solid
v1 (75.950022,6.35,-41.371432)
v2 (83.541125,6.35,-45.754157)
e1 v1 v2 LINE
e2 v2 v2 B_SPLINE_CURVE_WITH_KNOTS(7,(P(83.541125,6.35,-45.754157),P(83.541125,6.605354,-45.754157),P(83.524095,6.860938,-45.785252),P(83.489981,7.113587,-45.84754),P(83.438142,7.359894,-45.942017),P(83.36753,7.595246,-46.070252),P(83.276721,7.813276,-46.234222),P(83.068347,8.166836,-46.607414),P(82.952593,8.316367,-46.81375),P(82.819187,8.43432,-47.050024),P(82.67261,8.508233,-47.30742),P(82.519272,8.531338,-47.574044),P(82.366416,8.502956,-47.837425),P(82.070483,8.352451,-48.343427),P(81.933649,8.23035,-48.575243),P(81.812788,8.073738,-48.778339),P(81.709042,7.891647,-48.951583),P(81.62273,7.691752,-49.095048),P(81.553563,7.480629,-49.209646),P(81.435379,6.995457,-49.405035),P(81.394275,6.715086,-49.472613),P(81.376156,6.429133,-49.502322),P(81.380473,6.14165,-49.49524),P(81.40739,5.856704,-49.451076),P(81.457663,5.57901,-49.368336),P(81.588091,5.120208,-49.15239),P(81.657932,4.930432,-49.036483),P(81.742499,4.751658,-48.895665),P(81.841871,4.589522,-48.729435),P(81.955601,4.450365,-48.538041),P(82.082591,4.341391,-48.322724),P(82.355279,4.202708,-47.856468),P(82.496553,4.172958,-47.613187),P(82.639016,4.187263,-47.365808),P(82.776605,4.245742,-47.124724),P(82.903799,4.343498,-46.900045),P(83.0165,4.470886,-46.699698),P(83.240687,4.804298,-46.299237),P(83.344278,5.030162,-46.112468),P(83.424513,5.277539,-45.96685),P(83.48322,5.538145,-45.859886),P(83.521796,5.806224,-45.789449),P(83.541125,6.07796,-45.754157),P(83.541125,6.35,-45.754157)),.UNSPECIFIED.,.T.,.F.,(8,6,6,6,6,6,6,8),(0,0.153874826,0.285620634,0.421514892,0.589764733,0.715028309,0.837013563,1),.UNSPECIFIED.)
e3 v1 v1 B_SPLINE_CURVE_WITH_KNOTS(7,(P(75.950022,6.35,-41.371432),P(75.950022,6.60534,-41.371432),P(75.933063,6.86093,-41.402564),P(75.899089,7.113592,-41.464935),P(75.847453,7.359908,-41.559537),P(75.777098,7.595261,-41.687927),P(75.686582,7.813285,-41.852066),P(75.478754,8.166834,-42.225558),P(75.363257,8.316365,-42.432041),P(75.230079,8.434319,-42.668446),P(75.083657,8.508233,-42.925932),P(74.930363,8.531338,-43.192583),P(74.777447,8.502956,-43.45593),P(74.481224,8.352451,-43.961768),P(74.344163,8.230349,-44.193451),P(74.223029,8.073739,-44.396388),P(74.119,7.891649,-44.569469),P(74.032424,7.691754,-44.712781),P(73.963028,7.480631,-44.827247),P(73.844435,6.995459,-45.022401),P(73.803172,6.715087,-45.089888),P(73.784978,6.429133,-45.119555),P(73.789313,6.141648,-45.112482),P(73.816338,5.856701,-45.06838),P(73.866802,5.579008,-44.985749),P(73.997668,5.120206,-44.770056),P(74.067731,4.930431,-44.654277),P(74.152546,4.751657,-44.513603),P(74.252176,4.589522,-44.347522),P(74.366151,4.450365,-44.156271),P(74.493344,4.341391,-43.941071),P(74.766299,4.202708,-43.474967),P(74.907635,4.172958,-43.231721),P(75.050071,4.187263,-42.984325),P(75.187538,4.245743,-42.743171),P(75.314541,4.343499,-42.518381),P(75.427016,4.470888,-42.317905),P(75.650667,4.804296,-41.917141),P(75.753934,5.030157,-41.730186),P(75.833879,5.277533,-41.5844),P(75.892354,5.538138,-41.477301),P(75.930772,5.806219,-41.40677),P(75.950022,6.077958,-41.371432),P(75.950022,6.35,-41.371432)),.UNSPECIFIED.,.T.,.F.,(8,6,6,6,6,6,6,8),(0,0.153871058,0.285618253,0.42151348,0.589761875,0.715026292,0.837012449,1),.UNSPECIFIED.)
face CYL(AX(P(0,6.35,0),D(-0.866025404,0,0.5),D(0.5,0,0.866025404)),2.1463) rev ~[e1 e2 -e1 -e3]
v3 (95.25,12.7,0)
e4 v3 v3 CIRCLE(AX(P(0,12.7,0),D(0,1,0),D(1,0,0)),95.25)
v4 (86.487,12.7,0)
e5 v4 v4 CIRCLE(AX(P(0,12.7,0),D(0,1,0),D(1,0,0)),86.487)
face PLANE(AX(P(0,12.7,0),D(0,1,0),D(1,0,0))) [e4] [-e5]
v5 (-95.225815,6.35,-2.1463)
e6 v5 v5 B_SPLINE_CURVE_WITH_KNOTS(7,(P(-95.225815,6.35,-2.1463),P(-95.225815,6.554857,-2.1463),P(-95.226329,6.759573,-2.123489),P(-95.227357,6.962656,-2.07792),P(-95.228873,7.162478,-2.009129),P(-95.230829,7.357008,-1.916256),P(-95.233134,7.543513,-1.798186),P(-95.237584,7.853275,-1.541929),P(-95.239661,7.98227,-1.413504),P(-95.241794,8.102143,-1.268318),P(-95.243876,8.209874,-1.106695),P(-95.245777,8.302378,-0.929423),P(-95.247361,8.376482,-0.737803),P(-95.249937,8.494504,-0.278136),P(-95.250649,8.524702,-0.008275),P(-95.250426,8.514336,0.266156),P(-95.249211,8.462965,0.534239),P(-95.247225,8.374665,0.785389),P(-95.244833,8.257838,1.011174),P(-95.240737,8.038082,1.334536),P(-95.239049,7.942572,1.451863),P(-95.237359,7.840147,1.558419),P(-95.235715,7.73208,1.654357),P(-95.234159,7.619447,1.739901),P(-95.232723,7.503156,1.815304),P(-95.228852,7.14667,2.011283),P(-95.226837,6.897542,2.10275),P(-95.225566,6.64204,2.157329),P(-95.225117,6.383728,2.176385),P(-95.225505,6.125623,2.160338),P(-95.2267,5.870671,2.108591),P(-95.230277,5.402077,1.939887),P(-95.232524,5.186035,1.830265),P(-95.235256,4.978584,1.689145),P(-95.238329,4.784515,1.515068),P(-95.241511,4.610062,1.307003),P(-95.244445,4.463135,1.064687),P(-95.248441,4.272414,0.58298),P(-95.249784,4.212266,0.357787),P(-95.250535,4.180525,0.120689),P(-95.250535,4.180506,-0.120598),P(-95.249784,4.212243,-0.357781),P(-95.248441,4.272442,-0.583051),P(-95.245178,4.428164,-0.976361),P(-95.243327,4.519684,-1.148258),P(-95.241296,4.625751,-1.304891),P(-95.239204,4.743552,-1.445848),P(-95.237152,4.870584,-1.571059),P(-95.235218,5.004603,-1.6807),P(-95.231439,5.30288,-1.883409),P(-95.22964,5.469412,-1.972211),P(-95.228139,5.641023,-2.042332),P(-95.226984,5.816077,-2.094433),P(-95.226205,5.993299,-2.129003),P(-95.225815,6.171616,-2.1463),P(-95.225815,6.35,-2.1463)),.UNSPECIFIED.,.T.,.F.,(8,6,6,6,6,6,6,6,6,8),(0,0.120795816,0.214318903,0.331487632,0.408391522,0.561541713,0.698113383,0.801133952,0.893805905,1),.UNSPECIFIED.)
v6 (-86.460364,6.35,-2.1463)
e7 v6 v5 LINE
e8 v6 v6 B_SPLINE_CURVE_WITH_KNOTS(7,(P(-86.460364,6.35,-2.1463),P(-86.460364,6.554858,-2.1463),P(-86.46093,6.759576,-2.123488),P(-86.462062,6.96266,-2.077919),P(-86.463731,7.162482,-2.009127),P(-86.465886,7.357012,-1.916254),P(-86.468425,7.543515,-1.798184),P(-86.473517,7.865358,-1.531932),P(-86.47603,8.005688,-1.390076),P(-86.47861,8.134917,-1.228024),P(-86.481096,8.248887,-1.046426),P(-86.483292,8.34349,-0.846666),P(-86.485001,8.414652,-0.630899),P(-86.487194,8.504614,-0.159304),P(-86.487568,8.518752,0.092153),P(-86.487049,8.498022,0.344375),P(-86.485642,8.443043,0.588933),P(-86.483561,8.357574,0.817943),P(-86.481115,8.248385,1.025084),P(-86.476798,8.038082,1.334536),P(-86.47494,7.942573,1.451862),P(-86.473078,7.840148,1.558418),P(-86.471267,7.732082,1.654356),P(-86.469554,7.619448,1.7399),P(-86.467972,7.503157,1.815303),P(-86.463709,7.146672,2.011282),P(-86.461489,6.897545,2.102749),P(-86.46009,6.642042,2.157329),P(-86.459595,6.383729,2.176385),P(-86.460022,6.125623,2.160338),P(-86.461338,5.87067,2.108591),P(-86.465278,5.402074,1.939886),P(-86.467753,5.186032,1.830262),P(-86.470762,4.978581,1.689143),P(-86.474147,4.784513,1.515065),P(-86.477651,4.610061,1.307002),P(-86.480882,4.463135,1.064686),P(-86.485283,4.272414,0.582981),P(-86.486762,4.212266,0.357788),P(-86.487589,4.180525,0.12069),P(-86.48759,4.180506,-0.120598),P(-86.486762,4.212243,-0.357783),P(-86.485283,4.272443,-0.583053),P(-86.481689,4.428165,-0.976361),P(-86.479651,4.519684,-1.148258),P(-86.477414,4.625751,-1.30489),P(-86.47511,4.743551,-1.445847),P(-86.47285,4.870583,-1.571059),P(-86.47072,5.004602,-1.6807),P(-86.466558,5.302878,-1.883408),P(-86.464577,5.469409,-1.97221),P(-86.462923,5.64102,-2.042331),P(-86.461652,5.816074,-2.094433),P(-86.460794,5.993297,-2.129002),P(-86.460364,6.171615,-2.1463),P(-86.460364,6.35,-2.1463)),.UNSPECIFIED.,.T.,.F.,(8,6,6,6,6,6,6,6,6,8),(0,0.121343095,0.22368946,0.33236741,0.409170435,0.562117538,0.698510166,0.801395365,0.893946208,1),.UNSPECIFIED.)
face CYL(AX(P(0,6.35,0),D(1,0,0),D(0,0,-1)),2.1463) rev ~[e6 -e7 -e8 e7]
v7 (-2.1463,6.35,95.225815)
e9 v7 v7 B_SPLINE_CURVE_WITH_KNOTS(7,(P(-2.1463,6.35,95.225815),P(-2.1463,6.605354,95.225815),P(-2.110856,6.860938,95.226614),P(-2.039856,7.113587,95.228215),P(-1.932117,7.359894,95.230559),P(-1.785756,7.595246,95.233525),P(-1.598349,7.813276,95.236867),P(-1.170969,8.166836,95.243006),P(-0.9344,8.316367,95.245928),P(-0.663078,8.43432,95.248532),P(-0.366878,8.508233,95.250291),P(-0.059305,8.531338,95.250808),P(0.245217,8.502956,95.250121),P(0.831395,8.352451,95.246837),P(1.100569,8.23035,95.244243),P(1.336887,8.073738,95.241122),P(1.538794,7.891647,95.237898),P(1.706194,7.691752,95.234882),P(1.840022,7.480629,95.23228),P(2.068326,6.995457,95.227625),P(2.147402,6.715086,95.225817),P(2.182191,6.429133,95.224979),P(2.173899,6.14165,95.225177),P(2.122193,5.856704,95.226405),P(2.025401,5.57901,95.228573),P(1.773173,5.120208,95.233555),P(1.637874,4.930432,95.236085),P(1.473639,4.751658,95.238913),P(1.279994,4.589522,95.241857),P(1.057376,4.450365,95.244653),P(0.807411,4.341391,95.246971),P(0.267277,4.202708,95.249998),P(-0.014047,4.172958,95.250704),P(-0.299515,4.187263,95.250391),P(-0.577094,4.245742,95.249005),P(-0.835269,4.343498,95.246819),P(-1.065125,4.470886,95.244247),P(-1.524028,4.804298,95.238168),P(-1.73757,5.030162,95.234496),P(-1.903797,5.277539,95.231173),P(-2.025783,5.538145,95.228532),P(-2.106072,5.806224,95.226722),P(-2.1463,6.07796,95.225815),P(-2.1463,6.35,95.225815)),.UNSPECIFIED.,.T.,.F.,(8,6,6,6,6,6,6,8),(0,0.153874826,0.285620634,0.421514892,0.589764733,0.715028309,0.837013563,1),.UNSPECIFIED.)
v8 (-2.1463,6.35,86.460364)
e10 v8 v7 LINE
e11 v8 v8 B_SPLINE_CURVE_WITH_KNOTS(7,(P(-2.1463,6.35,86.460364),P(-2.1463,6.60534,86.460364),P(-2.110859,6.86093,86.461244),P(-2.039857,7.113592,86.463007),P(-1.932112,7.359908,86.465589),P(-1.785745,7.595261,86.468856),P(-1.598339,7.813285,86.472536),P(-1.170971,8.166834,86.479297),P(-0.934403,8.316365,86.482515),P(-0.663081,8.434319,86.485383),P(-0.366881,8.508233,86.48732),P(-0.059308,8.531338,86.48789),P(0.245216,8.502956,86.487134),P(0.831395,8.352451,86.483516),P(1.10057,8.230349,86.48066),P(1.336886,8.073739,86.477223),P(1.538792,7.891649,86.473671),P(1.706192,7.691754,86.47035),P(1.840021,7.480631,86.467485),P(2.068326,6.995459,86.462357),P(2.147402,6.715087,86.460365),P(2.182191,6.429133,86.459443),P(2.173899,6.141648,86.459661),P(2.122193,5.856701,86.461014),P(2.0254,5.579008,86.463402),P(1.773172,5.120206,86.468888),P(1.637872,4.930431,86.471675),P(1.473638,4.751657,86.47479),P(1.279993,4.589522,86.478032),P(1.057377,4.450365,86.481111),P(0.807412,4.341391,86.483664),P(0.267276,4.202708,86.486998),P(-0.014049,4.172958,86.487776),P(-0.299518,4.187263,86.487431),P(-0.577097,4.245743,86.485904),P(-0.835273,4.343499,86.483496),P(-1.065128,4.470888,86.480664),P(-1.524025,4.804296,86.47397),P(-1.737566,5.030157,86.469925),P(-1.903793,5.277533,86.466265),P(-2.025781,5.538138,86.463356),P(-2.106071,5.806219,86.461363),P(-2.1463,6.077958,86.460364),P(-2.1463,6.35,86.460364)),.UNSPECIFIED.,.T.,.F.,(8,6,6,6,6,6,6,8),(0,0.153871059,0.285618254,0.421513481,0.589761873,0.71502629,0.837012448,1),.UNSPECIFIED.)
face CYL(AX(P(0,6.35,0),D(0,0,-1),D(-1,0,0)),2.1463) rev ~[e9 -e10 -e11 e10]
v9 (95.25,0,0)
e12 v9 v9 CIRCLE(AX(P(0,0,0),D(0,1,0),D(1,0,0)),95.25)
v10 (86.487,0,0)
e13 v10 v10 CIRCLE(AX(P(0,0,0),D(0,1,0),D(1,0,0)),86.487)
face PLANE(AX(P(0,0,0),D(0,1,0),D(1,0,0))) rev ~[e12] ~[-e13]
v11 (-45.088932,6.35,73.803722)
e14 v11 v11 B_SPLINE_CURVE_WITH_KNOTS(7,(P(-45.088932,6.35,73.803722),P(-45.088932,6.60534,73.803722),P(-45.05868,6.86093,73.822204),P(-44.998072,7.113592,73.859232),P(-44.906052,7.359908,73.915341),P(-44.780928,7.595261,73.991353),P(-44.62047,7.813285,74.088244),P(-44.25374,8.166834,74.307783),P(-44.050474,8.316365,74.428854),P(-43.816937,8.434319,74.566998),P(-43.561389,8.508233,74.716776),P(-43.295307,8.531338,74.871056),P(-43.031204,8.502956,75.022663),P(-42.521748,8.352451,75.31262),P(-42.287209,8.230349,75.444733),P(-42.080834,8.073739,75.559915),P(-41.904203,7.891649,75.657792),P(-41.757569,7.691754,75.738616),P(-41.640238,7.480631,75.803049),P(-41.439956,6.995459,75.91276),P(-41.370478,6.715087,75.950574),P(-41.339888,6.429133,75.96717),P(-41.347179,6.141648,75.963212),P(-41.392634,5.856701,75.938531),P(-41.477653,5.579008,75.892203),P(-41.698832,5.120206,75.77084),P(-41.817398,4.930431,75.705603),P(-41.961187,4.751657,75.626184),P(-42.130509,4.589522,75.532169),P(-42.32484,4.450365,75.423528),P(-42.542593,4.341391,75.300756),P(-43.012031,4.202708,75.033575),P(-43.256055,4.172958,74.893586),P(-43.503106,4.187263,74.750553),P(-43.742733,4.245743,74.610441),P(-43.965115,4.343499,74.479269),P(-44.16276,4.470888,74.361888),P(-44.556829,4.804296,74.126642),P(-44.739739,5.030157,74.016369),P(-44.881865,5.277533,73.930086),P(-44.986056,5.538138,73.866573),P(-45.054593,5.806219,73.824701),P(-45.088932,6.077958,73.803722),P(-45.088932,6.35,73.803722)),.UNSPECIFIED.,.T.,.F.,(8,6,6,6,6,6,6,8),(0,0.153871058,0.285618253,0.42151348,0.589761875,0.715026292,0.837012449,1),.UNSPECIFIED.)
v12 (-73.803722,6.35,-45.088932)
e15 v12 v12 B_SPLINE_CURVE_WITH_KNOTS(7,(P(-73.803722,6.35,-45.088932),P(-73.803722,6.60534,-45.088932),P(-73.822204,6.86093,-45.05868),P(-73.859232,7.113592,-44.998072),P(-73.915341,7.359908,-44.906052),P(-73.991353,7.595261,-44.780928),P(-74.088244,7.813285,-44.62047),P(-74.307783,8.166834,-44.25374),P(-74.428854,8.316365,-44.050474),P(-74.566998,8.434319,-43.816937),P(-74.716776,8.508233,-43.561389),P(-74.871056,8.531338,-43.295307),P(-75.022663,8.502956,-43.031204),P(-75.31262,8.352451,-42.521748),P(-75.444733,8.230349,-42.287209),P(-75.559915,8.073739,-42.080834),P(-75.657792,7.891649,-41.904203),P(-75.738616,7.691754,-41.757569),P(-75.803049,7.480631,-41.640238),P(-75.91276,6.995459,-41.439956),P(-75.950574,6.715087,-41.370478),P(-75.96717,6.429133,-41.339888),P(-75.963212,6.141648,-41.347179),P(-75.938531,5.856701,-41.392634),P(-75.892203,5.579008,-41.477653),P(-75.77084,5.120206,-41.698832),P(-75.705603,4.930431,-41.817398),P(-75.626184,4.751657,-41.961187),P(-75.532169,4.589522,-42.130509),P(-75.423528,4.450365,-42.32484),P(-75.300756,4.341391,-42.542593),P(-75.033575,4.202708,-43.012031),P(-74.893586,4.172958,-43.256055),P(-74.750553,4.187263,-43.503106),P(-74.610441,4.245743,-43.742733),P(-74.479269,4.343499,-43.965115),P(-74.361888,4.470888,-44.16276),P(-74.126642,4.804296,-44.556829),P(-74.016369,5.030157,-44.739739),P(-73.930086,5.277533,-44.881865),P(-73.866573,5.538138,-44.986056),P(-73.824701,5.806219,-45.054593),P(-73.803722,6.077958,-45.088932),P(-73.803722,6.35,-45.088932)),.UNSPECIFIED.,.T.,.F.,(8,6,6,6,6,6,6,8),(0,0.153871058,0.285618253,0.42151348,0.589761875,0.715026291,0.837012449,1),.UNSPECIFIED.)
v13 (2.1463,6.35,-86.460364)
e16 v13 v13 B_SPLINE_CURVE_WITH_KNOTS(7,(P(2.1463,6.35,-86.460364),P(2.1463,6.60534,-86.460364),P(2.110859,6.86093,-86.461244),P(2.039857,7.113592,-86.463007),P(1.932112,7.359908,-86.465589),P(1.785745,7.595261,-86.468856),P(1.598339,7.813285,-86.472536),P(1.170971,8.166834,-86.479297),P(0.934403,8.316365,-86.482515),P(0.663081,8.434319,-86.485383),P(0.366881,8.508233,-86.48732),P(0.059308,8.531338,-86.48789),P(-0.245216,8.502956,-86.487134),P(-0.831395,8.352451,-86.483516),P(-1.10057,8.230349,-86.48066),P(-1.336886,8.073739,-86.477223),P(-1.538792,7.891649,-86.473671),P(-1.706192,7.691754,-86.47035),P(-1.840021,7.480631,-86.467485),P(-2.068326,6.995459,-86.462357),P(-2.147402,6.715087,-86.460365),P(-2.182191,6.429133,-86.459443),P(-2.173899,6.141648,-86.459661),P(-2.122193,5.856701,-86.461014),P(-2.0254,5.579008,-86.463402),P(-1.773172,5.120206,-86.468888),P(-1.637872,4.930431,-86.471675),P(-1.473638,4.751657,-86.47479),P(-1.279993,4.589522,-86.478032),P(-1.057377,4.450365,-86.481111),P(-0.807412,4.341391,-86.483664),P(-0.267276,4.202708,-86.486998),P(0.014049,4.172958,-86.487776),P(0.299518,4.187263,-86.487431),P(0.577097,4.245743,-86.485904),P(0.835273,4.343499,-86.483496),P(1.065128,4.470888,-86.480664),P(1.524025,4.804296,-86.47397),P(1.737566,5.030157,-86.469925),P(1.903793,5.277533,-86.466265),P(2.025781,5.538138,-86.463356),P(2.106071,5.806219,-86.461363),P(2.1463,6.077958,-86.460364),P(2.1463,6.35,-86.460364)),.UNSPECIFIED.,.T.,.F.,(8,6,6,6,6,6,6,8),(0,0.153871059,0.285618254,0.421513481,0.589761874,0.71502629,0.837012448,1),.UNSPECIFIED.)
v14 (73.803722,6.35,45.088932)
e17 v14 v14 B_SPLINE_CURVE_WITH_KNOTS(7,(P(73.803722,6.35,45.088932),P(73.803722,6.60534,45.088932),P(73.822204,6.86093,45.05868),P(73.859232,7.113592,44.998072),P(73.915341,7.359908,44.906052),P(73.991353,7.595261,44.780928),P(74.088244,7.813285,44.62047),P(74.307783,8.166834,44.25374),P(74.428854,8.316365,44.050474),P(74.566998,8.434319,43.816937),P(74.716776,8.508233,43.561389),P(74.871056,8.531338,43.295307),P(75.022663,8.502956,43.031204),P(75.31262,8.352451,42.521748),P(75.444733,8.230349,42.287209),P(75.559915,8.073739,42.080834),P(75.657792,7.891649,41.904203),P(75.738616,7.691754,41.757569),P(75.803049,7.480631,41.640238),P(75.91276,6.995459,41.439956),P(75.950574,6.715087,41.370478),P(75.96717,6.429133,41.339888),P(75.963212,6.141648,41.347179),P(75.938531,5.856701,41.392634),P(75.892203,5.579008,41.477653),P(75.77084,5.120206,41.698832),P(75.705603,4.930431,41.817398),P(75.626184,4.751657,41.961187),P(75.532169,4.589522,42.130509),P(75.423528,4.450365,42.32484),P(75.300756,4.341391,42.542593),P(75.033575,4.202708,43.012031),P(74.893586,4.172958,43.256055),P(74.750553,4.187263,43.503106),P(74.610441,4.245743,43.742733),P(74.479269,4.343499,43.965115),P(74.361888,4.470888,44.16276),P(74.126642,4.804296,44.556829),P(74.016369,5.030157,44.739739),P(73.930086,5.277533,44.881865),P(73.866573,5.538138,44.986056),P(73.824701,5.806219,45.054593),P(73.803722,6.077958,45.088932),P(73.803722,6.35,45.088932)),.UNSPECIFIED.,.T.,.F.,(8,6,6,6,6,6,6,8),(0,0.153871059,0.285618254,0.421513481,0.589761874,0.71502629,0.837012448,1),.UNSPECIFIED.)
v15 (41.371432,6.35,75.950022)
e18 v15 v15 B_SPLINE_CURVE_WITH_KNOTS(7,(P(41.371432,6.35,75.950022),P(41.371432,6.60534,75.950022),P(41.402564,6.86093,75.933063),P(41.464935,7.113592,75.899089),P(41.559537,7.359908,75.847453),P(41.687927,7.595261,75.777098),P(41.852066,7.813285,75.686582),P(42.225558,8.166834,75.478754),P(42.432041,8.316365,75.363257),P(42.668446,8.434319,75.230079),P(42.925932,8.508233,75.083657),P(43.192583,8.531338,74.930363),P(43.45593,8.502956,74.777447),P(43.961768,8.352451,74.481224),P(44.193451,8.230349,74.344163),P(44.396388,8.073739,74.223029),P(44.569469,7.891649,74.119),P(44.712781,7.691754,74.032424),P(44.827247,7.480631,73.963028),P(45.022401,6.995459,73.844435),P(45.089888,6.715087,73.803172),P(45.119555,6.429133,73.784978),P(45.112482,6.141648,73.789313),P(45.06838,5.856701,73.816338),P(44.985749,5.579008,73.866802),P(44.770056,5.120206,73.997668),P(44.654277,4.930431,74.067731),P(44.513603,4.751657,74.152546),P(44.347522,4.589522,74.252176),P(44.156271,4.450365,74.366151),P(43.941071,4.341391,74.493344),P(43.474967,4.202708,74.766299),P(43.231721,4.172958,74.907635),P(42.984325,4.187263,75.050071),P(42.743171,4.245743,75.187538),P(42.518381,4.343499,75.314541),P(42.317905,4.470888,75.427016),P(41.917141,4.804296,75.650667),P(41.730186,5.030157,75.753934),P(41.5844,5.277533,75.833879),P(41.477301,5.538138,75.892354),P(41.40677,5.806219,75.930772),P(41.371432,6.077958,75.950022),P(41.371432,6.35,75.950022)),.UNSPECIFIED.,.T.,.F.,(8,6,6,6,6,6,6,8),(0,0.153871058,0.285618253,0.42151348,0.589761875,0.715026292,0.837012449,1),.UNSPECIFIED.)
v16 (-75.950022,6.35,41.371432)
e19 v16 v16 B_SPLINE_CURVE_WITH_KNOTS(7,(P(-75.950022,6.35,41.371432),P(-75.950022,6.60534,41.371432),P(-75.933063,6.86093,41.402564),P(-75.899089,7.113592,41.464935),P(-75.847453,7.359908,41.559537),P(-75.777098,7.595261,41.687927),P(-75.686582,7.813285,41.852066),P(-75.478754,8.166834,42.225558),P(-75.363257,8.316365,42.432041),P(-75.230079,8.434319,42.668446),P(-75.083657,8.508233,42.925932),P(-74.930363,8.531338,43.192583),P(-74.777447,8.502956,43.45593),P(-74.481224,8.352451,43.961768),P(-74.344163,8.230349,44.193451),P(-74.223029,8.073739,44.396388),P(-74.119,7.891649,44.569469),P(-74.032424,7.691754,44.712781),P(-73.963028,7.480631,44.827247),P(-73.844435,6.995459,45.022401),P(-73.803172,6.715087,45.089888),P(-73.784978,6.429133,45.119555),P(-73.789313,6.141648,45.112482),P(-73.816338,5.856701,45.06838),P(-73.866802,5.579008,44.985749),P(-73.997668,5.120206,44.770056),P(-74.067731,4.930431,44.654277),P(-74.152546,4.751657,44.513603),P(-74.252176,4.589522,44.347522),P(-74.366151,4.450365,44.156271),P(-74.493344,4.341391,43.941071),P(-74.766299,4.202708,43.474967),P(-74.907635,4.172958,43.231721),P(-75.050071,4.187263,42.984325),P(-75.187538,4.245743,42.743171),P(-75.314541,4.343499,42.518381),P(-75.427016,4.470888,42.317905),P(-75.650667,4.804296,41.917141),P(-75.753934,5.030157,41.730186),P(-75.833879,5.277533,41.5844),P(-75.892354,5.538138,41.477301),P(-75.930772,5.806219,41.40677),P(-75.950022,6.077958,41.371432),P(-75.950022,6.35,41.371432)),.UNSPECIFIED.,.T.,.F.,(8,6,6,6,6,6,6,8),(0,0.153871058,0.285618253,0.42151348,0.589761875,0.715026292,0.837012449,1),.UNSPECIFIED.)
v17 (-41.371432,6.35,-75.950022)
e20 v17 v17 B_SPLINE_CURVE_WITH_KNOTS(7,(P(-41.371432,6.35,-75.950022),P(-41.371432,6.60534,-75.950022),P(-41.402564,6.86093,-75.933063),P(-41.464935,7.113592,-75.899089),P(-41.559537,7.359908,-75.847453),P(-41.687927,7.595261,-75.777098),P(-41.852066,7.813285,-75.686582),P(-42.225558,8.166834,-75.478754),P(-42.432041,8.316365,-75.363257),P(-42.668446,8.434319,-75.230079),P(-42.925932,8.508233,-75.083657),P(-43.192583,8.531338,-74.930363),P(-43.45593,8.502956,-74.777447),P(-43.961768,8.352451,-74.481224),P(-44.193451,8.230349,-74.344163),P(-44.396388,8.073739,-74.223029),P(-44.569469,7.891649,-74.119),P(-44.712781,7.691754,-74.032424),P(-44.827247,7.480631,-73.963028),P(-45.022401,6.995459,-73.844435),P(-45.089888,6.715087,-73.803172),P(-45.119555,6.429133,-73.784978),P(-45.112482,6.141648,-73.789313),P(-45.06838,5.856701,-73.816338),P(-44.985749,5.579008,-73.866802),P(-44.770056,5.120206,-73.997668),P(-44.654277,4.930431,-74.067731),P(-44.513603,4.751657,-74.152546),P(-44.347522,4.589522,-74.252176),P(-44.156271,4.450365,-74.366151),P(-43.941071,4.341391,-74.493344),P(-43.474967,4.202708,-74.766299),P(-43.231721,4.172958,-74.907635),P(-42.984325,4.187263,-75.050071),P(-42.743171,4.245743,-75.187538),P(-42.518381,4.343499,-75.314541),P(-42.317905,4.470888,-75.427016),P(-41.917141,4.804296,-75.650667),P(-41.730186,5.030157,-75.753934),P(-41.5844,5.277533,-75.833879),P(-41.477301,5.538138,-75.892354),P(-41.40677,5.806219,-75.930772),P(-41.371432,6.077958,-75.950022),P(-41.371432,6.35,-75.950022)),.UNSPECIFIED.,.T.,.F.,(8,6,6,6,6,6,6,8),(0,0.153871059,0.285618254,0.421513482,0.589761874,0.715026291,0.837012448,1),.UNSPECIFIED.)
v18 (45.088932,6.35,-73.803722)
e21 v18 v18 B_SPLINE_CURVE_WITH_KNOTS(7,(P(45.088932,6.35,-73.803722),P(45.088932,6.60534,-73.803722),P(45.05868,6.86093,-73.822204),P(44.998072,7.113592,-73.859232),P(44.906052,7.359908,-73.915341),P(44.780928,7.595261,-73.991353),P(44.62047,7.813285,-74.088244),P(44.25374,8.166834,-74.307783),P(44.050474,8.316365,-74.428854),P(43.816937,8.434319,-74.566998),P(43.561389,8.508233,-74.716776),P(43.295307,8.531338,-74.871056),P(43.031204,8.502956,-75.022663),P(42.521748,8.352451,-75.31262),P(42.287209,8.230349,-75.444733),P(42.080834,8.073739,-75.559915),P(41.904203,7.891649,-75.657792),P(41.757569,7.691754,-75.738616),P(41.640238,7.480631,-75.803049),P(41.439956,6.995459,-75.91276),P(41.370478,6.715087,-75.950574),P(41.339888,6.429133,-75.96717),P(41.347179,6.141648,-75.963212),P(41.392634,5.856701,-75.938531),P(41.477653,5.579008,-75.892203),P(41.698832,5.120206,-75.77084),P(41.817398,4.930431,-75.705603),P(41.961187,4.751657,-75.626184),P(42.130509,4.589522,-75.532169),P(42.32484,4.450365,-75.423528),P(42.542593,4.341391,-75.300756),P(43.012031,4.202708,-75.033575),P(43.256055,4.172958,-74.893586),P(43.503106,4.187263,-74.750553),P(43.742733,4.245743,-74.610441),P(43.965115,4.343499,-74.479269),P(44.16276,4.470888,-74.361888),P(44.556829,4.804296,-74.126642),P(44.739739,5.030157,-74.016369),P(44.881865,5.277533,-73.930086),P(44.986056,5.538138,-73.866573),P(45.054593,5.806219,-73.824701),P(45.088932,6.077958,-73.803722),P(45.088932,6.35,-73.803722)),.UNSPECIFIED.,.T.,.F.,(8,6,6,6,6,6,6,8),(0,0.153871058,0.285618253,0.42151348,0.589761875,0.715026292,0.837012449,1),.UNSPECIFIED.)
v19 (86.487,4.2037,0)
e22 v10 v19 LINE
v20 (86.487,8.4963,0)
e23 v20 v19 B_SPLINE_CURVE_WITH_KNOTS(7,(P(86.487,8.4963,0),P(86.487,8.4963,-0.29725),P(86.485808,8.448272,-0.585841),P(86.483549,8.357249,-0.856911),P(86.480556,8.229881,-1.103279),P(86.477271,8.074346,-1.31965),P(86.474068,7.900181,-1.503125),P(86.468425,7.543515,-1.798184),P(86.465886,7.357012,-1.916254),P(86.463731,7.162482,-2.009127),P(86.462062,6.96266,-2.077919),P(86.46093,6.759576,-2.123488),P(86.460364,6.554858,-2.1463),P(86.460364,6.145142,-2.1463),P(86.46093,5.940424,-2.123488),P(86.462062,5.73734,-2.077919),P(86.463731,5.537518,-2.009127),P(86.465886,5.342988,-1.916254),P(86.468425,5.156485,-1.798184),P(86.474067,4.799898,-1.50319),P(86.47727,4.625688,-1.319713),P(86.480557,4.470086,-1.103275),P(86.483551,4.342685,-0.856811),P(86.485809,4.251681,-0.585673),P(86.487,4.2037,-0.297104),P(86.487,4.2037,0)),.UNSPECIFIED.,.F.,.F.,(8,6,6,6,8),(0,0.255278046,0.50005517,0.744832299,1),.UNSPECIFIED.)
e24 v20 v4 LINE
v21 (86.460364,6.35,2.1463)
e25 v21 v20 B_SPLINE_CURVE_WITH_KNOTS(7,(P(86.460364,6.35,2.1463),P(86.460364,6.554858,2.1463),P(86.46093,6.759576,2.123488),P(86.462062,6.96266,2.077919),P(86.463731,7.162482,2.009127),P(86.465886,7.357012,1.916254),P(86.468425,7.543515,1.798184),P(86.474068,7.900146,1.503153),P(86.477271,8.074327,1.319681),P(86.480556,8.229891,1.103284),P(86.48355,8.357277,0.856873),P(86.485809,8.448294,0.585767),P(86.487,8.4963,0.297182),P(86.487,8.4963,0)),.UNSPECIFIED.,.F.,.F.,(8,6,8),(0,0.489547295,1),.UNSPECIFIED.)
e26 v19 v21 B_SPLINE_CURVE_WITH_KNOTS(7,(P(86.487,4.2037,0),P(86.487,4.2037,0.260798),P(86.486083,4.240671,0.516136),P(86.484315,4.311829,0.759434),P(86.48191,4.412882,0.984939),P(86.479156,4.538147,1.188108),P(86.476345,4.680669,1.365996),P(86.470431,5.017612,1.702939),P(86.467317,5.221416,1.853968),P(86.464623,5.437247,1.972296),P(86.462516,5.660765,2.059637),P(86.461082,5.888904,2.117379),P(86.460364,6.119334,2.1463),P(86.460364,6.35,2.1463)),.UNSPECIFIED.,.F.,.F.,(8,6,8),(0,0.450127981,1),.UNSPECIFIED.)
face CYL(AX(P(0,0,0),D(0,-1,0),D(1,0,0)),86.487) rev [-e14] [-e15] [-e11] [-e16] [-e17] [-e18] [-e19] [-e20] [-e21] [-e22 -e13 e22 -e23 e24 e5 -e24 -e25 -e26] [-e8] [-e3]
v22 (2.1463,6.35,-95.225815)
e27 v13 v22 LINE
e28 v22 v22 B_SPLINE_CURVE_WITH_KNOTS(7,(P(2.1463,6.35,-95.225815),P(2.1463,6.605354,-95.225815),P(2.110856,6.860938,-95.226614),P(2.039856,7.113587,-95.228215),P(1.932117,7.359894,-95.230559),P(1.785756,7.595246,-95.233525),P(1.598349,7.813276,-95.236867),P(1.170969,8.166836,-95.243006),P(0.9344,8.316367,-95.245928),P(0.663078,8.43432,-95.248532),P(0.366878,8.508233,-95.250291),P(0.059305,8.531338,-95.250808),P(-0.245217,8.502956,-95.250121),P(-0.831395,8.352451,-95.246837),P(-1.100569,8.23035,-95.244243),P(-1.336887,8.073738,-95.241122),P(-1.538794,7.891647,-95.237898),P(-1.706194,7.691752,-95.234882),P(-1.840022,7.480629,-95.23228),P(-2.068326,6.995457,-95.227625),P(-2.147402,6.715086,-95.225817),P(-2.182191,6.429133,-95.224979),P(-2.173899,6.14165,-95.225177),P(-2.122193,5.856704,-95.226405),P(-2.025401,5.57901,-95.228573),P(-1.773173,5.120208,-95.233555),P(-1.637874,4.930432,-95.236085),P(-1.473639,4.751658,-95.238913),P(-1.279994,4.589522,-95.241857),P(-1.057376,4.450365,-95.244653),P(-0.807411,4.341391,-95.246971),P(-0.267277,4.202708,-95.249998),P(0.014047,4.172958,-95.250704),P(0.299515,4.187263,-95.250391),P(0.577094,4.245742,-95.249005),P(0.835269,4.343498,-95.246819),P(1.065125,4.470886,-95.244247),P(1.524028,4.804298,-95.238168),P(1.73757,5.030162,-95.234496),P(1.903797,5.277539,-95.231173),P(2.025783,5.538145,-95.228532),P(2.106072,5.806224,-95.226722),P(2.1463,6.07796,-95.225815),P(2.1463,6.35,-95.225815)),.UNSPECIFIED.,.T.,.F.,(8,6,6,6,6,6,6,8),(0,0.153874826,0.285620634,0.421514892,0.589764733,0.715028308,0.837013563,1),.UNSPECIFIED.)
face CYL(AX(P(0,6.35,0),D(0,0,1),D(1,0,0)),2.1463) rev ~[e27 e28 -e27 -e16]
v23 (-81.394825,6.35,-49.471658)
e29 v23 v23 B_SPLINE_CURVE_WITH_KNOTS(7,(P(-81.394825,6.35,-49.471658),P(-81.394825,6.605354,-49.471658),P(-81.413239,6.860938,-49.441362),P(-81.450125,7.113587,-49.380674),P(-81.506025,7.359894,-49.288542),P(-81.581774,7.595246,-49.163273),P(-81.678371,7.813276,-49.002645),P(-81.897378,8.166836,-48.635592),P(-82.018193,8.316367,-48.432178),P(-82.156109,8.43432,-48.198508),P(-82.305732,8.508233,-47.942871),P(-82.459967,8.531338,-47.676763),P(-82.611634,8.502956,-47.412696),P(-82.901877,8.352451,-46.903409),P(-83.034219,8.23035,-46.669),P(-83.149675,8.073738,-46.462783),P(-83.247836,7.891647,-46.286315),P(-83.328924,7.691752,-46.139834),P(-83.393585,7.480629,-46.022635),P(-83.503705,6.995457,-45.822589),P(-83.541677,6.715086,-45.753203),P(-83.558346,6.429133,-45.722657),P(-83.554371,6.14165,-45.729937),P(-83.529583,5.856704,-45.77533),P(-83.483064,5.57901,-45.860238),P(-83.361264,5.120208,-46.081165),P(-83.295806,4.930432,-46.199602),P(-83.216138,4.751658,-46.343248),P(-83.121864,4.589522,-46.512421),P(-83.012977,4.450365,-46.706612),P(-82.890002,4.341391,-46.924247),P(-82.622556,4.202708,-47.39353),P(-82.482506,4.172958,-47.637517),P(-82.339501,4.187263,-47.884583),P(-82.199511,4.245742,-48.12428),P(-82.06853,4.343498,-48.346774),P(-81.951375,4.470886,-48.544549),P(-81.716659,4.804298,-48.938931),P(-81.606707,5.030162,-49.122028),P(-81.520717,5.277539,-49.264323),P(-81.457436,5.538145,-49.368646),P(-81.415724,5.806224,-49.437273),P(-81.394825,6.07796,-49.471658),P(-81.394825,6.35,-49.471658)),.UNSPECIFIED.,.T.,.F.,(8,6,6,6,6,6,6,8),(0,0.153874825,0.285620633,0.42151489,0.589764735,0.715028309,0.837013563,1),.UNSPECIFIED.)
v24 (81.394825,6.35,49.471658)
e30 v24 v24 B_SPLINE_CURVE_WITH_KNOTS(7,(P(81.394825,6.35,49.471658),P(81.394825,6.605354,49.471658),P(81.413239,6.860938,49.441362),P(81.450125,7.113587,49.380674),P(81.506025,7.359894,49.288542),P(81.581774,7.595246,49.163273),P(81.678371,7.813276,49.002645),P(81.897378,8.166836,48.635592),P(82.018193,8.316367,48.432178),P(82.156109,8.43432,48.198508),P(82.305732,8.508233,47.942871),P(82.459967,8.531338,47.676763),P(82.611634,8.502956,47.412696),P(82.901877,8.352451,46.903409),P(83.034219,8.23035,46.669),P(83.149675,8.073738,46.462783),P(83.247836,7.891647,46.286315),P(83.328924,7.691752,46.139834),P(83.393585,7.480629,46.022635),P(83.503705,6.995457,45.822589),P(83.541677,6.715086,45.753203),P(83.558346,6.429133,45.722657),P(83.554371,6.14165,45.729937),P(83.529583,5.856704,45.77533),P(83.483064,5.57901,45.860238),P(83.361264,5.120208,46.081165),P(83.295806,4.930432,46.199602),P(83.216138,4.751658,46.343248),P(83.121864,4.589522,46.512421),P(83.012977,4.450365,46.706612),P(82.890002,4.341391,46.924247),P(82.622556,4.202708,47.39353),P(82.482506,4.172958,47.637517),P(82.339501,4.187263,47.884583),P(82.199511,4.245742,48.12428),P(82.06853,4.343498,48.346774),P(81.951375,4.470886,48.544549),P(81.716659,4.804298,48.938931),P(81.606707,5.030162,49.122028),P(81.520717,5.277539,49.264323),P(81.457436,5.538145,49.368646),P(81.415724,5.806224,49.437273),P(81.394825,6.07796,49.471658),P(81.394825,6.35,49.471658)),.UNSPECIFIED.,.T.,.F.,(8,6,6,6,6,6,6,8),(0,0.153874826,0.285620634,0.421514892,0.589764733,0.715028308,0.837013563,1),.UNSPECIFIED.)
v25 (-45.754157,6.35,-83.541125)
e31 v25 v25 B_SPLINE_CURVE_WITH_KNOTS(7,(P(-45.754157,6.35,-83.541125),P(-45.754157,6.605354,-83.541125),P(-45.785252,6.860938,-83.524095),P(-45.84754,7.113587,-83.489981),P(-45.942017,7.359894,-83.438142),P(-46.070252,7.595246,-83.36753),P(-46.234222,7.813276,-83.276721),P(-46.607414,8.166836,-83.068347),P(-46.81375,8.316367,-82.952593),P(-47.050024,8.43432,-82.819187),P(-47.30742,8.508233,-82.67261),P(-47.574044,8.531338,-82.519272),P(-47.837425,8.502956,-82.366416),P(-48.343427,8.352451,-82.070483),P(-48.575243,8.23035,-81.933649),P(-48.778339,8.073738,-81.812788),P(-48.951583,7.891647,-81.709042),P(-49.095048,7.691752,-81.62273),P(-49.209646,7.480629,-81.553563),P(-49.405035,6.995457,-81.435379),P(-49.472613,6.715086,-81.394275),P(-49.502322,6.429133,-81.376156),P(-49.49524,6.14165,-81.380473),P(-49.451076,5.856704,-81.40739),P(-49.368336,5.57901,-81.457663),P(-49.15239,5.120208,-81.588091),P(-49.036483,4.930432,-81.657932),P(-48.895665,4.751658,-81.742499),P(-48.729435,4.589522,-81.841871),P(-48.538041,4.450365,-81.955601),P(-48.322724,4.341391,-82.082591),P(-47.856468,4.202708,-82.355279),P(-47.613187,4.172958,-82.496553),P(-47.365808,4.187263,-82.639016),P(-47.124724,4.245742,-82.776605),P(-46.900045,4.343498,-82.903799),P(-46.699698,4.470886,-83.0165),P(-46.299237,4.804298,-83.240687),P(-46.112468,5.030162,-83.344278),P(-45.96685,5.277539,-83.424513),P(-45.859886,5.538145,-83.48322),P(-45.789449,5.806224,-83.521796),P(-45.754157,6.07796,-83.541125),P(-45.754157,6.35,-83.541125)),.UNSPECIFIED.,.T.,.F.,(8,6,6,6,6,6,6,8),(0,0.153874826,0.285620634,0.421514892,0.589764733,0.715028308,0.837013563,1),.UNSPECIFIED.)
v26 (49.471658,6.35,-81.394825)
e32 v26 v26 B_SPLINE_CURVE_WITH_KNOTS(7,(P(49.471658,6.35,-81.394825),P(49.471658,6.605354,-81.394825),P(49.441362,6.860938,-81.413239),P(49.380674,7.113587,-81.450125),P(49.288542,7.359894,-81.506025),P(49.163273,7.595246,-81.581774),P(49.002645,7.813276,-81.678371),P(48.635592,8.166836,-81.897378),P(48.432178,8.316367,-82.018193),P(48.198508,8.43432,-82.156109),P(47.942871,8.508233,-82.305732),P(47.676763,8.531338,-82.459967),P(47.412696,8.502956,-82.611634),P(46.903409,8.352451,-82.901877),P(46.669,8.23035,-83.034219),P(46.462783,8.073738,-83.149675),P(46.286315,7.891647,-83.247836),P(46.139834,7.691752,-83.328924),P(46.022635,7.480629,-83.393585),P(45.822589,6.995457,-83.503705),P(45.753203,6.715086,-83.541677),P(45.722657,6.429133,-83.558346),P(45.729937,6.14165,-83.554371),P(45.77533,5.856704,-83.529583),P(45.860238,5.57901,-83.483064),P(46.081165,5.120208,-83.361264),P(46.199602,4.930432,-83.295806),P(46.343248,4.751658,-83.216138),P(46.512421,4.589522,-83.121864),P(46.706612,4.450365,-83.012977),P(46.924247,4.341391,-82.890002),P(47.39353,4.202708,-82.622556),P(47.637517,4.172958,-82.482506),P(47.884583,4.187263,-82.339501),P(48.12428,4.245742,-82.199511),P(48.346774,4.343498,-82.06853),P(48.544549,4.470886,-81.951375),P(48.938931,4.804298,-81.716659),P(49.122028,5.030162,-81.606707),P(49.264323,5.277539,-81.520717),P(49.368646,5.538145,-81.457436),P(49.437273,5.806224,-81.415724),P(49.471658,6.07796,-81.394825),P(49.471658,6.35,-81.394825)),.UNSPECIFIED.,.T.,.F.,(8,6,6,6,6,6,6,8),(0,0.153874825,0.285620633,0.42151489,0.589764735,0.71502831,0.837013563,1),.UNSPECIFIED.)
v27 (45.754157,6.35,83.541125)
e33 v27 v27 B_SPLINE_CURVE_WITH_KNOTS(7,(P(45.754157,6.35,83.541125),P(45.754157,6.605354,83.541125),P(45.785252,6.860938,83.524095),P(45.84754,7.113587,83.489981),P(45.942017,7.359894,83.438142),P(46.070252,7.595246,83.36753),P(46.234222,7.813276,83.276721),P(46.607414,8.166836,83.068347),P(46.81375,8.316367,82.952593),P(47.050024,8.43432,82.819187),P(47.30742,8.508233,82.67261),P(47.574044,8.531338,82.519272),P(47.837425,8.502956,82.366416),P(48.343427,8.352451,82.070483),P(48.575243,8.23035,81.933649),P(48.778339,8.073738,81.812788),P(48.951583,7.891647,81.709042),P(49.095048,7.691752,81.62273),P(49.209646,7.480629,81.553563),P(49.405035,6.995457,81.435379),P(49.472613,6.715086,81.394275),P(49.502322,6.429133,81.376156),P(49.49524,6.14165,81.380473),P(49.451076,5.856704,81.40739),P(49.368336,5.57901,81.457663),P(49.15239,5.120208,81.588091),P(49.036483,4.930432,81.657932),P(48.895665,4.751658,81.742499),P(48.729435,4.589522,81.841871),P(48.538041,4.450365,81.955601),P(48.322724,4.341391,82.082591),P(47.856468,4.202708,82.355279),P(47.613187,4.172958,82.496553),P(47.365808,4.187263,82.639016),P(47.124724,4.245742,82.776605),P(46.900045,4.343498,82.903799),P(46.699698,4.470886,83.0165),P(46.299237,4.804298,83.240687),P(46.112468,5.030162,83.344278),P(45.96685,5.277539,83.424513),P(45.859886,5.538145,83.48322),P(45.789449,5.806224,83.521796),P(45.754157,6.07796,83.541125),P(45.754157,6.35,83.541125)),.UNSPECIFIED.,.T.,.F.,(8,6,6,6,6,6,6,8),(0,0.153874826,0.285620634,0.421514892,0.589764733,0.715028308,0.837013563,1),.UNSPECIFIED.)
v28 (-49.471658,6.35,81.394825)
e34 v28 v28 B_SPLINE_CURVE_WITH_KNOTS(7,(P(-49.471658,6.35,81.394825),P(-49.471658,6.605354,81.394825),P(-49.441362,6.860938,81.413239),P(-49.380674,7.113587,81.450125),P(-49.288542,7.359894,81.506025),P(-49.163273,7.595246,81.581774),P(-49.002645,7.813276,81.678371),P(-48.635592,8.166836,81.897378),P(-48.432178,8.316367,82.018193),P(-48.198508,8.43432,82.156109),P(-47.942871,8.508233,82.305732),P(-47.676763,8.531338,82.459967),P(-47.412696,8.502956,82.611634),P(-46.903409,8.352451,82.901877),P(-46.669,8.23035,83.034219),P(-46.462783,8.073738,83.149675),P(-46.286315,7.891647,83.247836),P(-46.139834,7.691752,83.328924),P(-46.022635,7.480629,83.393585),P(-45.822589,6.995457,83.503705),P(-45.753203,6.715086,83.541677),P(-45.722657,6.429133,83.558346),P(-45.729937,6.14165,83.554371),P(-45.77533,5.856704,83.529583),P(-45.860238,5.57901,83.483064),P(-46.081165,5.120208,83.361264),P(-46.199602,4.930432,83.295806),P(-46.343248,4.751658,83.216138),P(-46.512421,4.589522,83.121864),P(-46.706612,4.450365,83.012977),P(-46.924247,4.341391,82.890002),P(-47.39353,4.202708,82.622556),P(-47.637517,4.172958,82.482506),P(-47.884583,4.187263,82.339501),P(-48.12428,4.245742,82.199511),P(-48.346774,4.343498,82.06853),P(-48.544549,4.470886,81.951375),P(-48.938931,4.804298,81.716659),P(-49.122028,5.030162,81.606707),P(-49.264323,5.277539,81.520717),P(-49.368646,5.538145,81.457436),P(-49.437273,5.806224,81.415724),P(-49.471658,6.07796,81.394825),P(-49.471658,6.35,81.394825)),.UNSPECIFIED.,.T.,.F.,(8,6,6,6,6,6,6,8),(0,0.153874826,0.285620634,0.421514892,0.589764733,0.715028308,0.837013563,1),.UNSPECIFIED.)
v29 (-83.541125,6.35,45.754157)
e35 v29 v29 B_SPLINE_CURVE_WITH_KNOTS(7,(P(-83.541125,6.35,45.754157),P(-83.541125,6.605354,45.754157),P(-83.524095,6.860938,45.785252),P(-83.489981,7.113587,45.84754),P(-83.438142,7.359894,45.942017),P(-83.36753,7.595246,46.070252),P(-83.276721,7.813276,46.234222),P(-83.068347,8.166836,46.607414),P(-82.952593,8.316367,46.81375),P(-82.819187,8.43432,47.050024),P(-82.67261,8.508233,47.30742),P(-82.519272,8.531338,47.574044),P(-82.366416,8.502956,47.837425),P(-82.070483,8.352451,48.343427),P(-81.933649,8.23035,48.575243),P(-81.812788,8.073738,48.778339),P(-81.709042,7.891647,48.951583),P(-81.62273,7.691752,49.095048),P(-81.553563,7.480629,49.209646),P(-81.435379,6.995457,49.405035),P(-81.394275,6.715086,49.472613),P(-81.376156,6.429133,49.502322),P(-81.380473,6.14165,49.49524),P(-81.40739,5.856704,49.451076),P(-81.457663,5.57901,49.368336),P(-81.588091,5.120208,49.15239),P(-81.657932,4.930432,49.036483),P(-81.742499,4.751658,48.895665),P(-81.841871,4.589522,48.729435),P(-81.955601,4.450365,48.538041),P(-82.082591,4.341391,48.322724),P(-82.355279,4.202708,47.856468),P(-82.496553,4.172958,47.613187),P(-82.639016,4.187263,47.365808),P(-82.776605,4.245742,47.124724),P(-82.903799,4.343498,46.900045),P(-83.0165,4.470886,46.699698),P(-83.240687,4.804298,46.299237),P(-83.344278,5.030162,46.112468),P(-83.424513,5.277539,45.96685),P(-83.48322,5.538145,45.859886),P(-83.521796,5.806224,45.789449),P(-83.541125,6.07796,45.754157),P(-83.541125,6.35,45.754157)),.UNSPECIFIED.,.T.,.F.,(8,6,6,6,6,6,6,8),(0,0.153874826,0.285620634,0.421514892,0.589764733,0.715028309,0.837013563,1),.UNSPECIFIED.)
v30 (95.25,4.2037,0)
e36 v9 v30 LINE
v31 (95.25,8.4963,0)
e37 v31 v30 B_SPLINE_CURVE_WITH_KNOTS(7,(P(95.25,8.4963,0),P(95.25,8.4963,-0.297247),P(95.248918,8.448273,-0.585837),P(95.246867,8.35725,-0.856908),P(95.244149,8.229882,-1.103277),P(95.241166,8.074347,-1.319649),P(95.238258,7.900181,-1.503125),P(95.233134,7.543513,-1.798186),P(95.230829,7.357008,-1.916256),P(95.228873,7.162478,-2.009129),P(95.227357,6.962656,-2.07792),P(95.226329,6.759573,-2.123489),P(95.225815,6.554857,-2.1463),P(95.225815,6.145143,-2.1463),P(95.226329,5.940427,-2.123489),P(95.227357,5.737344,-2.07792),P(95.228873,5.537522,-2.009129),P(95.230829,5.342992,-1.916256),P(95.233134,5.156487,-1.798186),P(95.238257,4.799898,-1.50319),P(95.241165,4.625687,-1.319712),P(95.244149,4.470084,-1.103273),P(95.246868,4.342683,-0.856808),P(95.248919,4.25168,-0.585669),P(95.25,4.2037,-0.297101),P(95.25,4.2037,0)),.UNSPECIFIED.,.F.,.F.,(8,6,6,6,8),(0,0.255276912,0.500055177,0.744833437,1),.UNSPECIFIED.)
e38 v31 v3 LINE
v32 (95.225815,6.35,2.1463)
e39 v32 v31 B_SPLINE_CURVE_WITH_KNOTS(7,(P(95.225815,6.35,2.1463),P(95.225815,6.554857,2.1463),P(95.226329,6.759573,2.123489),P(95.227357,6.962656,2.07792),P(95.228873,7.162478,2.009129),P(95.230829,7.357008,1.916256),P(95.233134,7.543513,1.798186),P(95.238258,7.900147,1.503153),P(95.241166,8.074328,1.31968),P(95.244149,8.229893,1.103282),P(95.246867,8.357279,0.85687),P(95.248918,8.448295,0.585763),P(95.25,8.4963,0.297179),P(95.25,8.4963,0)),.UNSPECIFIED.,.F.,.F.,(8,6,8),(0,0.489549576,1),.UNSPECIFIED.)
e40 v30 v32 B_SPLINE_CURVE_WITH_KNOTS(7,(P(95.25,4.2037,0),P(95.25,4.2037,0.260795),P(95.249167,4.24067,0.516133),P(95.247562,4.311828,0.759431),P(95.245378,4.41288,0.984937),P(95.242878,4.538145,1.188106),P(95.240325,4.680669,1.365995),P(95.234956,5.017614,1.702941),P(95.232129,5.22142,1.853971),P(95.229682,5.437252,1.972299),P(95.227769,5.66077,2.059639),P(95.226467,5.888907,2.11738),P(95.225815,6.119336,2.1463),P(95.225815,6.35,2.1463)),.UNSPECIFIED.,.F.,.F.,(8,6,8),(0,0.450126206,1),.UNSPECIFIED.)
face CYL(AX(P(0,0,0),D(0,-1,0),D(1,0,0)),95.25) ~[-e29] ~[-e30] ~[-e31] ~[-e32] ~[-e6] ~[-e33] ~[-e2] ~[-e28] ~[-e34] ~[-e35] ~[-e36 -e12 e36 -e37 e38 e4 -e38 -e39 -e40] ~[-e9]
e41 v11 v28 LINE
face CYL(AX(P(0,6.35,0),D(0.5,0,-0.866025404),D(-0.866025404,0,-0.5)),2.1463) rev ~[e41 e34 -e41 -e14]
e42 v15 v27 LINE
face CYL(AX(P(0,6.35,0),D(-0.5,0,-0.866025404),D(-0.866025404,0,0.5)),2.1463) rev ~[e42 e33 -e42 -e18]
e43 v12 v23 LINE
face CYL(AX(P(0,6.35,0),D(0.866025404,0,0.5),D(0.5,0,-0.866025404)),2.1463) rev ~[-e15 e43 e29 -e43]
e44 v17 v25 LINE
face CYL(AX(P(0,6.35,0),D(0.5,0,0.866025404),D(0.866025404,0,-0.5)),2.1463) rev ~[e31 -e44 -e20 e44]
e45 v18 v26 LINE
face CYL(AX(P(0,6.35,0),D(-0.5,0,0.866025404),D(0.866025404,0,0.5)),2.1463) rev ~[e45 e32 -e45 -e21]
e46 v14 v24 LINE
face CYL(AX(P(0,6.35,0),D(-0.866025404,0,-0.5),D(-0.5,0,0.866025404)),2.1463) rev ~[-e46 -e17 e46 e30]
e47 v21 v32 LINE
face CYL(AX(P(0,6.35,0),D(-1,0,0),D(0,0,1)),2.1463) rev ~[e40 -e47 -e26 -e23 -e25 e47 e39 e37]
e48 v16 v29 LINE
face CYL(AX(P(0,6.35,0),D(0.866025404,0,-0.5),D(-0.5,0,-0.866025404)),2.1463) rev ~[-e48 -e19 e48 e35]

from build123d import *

# Parameters (mm, degrees)
SKETCH1_R           = 95.25
SKETCH1_R_2         = 86.487
BOSS_EXTRUDE1_DEPTH = 12.7
SKETCH3_R           = 2.1463
CUT_EXTRUDE2_DEPTH  = 254
CIRPATTERN1_COUNT   = 12


with BuildPart() as part:
    # Sketch1 → Boss-Extrude1 (new body)
    with BuildSketch(Plane(origin=(0, 0, 0), x_dir=(1, 0, 0), z_dir=(0, 1, 0))):
        Circle(SKETCH1_R)
        Circle(SKETCH1_R_2, mode=Mode.SUBTRACT)
    extrude(amount=BOSS_EXTRUDE1_DEPTH)

    # Sketch3 → Cut-Extrude2 (cut)
    with BuildSketch(Plane.XY):
        with Locations((0, 6.35)):
            Circle(SKETCH3_R)
    cut_extrude2 = extrude(amount=-CUT_EXTRUDE2_DEPTH, mode=Mode.SUBTRACT)

    # CirPattern1: Cut-Extrude2 ×12 about axis
    cirpattern1_axis = Axis((0, 12.7, 0), (0, 1, 0))
    for i in range(1, CIRPATTERN1_COUNT):
        add(cut_extrude2.rotate(cirpattern1_axis, i * 360 / CIRPATTERN1_COUNT), mode=Mode.SUBTRACT)


solid = part.part
